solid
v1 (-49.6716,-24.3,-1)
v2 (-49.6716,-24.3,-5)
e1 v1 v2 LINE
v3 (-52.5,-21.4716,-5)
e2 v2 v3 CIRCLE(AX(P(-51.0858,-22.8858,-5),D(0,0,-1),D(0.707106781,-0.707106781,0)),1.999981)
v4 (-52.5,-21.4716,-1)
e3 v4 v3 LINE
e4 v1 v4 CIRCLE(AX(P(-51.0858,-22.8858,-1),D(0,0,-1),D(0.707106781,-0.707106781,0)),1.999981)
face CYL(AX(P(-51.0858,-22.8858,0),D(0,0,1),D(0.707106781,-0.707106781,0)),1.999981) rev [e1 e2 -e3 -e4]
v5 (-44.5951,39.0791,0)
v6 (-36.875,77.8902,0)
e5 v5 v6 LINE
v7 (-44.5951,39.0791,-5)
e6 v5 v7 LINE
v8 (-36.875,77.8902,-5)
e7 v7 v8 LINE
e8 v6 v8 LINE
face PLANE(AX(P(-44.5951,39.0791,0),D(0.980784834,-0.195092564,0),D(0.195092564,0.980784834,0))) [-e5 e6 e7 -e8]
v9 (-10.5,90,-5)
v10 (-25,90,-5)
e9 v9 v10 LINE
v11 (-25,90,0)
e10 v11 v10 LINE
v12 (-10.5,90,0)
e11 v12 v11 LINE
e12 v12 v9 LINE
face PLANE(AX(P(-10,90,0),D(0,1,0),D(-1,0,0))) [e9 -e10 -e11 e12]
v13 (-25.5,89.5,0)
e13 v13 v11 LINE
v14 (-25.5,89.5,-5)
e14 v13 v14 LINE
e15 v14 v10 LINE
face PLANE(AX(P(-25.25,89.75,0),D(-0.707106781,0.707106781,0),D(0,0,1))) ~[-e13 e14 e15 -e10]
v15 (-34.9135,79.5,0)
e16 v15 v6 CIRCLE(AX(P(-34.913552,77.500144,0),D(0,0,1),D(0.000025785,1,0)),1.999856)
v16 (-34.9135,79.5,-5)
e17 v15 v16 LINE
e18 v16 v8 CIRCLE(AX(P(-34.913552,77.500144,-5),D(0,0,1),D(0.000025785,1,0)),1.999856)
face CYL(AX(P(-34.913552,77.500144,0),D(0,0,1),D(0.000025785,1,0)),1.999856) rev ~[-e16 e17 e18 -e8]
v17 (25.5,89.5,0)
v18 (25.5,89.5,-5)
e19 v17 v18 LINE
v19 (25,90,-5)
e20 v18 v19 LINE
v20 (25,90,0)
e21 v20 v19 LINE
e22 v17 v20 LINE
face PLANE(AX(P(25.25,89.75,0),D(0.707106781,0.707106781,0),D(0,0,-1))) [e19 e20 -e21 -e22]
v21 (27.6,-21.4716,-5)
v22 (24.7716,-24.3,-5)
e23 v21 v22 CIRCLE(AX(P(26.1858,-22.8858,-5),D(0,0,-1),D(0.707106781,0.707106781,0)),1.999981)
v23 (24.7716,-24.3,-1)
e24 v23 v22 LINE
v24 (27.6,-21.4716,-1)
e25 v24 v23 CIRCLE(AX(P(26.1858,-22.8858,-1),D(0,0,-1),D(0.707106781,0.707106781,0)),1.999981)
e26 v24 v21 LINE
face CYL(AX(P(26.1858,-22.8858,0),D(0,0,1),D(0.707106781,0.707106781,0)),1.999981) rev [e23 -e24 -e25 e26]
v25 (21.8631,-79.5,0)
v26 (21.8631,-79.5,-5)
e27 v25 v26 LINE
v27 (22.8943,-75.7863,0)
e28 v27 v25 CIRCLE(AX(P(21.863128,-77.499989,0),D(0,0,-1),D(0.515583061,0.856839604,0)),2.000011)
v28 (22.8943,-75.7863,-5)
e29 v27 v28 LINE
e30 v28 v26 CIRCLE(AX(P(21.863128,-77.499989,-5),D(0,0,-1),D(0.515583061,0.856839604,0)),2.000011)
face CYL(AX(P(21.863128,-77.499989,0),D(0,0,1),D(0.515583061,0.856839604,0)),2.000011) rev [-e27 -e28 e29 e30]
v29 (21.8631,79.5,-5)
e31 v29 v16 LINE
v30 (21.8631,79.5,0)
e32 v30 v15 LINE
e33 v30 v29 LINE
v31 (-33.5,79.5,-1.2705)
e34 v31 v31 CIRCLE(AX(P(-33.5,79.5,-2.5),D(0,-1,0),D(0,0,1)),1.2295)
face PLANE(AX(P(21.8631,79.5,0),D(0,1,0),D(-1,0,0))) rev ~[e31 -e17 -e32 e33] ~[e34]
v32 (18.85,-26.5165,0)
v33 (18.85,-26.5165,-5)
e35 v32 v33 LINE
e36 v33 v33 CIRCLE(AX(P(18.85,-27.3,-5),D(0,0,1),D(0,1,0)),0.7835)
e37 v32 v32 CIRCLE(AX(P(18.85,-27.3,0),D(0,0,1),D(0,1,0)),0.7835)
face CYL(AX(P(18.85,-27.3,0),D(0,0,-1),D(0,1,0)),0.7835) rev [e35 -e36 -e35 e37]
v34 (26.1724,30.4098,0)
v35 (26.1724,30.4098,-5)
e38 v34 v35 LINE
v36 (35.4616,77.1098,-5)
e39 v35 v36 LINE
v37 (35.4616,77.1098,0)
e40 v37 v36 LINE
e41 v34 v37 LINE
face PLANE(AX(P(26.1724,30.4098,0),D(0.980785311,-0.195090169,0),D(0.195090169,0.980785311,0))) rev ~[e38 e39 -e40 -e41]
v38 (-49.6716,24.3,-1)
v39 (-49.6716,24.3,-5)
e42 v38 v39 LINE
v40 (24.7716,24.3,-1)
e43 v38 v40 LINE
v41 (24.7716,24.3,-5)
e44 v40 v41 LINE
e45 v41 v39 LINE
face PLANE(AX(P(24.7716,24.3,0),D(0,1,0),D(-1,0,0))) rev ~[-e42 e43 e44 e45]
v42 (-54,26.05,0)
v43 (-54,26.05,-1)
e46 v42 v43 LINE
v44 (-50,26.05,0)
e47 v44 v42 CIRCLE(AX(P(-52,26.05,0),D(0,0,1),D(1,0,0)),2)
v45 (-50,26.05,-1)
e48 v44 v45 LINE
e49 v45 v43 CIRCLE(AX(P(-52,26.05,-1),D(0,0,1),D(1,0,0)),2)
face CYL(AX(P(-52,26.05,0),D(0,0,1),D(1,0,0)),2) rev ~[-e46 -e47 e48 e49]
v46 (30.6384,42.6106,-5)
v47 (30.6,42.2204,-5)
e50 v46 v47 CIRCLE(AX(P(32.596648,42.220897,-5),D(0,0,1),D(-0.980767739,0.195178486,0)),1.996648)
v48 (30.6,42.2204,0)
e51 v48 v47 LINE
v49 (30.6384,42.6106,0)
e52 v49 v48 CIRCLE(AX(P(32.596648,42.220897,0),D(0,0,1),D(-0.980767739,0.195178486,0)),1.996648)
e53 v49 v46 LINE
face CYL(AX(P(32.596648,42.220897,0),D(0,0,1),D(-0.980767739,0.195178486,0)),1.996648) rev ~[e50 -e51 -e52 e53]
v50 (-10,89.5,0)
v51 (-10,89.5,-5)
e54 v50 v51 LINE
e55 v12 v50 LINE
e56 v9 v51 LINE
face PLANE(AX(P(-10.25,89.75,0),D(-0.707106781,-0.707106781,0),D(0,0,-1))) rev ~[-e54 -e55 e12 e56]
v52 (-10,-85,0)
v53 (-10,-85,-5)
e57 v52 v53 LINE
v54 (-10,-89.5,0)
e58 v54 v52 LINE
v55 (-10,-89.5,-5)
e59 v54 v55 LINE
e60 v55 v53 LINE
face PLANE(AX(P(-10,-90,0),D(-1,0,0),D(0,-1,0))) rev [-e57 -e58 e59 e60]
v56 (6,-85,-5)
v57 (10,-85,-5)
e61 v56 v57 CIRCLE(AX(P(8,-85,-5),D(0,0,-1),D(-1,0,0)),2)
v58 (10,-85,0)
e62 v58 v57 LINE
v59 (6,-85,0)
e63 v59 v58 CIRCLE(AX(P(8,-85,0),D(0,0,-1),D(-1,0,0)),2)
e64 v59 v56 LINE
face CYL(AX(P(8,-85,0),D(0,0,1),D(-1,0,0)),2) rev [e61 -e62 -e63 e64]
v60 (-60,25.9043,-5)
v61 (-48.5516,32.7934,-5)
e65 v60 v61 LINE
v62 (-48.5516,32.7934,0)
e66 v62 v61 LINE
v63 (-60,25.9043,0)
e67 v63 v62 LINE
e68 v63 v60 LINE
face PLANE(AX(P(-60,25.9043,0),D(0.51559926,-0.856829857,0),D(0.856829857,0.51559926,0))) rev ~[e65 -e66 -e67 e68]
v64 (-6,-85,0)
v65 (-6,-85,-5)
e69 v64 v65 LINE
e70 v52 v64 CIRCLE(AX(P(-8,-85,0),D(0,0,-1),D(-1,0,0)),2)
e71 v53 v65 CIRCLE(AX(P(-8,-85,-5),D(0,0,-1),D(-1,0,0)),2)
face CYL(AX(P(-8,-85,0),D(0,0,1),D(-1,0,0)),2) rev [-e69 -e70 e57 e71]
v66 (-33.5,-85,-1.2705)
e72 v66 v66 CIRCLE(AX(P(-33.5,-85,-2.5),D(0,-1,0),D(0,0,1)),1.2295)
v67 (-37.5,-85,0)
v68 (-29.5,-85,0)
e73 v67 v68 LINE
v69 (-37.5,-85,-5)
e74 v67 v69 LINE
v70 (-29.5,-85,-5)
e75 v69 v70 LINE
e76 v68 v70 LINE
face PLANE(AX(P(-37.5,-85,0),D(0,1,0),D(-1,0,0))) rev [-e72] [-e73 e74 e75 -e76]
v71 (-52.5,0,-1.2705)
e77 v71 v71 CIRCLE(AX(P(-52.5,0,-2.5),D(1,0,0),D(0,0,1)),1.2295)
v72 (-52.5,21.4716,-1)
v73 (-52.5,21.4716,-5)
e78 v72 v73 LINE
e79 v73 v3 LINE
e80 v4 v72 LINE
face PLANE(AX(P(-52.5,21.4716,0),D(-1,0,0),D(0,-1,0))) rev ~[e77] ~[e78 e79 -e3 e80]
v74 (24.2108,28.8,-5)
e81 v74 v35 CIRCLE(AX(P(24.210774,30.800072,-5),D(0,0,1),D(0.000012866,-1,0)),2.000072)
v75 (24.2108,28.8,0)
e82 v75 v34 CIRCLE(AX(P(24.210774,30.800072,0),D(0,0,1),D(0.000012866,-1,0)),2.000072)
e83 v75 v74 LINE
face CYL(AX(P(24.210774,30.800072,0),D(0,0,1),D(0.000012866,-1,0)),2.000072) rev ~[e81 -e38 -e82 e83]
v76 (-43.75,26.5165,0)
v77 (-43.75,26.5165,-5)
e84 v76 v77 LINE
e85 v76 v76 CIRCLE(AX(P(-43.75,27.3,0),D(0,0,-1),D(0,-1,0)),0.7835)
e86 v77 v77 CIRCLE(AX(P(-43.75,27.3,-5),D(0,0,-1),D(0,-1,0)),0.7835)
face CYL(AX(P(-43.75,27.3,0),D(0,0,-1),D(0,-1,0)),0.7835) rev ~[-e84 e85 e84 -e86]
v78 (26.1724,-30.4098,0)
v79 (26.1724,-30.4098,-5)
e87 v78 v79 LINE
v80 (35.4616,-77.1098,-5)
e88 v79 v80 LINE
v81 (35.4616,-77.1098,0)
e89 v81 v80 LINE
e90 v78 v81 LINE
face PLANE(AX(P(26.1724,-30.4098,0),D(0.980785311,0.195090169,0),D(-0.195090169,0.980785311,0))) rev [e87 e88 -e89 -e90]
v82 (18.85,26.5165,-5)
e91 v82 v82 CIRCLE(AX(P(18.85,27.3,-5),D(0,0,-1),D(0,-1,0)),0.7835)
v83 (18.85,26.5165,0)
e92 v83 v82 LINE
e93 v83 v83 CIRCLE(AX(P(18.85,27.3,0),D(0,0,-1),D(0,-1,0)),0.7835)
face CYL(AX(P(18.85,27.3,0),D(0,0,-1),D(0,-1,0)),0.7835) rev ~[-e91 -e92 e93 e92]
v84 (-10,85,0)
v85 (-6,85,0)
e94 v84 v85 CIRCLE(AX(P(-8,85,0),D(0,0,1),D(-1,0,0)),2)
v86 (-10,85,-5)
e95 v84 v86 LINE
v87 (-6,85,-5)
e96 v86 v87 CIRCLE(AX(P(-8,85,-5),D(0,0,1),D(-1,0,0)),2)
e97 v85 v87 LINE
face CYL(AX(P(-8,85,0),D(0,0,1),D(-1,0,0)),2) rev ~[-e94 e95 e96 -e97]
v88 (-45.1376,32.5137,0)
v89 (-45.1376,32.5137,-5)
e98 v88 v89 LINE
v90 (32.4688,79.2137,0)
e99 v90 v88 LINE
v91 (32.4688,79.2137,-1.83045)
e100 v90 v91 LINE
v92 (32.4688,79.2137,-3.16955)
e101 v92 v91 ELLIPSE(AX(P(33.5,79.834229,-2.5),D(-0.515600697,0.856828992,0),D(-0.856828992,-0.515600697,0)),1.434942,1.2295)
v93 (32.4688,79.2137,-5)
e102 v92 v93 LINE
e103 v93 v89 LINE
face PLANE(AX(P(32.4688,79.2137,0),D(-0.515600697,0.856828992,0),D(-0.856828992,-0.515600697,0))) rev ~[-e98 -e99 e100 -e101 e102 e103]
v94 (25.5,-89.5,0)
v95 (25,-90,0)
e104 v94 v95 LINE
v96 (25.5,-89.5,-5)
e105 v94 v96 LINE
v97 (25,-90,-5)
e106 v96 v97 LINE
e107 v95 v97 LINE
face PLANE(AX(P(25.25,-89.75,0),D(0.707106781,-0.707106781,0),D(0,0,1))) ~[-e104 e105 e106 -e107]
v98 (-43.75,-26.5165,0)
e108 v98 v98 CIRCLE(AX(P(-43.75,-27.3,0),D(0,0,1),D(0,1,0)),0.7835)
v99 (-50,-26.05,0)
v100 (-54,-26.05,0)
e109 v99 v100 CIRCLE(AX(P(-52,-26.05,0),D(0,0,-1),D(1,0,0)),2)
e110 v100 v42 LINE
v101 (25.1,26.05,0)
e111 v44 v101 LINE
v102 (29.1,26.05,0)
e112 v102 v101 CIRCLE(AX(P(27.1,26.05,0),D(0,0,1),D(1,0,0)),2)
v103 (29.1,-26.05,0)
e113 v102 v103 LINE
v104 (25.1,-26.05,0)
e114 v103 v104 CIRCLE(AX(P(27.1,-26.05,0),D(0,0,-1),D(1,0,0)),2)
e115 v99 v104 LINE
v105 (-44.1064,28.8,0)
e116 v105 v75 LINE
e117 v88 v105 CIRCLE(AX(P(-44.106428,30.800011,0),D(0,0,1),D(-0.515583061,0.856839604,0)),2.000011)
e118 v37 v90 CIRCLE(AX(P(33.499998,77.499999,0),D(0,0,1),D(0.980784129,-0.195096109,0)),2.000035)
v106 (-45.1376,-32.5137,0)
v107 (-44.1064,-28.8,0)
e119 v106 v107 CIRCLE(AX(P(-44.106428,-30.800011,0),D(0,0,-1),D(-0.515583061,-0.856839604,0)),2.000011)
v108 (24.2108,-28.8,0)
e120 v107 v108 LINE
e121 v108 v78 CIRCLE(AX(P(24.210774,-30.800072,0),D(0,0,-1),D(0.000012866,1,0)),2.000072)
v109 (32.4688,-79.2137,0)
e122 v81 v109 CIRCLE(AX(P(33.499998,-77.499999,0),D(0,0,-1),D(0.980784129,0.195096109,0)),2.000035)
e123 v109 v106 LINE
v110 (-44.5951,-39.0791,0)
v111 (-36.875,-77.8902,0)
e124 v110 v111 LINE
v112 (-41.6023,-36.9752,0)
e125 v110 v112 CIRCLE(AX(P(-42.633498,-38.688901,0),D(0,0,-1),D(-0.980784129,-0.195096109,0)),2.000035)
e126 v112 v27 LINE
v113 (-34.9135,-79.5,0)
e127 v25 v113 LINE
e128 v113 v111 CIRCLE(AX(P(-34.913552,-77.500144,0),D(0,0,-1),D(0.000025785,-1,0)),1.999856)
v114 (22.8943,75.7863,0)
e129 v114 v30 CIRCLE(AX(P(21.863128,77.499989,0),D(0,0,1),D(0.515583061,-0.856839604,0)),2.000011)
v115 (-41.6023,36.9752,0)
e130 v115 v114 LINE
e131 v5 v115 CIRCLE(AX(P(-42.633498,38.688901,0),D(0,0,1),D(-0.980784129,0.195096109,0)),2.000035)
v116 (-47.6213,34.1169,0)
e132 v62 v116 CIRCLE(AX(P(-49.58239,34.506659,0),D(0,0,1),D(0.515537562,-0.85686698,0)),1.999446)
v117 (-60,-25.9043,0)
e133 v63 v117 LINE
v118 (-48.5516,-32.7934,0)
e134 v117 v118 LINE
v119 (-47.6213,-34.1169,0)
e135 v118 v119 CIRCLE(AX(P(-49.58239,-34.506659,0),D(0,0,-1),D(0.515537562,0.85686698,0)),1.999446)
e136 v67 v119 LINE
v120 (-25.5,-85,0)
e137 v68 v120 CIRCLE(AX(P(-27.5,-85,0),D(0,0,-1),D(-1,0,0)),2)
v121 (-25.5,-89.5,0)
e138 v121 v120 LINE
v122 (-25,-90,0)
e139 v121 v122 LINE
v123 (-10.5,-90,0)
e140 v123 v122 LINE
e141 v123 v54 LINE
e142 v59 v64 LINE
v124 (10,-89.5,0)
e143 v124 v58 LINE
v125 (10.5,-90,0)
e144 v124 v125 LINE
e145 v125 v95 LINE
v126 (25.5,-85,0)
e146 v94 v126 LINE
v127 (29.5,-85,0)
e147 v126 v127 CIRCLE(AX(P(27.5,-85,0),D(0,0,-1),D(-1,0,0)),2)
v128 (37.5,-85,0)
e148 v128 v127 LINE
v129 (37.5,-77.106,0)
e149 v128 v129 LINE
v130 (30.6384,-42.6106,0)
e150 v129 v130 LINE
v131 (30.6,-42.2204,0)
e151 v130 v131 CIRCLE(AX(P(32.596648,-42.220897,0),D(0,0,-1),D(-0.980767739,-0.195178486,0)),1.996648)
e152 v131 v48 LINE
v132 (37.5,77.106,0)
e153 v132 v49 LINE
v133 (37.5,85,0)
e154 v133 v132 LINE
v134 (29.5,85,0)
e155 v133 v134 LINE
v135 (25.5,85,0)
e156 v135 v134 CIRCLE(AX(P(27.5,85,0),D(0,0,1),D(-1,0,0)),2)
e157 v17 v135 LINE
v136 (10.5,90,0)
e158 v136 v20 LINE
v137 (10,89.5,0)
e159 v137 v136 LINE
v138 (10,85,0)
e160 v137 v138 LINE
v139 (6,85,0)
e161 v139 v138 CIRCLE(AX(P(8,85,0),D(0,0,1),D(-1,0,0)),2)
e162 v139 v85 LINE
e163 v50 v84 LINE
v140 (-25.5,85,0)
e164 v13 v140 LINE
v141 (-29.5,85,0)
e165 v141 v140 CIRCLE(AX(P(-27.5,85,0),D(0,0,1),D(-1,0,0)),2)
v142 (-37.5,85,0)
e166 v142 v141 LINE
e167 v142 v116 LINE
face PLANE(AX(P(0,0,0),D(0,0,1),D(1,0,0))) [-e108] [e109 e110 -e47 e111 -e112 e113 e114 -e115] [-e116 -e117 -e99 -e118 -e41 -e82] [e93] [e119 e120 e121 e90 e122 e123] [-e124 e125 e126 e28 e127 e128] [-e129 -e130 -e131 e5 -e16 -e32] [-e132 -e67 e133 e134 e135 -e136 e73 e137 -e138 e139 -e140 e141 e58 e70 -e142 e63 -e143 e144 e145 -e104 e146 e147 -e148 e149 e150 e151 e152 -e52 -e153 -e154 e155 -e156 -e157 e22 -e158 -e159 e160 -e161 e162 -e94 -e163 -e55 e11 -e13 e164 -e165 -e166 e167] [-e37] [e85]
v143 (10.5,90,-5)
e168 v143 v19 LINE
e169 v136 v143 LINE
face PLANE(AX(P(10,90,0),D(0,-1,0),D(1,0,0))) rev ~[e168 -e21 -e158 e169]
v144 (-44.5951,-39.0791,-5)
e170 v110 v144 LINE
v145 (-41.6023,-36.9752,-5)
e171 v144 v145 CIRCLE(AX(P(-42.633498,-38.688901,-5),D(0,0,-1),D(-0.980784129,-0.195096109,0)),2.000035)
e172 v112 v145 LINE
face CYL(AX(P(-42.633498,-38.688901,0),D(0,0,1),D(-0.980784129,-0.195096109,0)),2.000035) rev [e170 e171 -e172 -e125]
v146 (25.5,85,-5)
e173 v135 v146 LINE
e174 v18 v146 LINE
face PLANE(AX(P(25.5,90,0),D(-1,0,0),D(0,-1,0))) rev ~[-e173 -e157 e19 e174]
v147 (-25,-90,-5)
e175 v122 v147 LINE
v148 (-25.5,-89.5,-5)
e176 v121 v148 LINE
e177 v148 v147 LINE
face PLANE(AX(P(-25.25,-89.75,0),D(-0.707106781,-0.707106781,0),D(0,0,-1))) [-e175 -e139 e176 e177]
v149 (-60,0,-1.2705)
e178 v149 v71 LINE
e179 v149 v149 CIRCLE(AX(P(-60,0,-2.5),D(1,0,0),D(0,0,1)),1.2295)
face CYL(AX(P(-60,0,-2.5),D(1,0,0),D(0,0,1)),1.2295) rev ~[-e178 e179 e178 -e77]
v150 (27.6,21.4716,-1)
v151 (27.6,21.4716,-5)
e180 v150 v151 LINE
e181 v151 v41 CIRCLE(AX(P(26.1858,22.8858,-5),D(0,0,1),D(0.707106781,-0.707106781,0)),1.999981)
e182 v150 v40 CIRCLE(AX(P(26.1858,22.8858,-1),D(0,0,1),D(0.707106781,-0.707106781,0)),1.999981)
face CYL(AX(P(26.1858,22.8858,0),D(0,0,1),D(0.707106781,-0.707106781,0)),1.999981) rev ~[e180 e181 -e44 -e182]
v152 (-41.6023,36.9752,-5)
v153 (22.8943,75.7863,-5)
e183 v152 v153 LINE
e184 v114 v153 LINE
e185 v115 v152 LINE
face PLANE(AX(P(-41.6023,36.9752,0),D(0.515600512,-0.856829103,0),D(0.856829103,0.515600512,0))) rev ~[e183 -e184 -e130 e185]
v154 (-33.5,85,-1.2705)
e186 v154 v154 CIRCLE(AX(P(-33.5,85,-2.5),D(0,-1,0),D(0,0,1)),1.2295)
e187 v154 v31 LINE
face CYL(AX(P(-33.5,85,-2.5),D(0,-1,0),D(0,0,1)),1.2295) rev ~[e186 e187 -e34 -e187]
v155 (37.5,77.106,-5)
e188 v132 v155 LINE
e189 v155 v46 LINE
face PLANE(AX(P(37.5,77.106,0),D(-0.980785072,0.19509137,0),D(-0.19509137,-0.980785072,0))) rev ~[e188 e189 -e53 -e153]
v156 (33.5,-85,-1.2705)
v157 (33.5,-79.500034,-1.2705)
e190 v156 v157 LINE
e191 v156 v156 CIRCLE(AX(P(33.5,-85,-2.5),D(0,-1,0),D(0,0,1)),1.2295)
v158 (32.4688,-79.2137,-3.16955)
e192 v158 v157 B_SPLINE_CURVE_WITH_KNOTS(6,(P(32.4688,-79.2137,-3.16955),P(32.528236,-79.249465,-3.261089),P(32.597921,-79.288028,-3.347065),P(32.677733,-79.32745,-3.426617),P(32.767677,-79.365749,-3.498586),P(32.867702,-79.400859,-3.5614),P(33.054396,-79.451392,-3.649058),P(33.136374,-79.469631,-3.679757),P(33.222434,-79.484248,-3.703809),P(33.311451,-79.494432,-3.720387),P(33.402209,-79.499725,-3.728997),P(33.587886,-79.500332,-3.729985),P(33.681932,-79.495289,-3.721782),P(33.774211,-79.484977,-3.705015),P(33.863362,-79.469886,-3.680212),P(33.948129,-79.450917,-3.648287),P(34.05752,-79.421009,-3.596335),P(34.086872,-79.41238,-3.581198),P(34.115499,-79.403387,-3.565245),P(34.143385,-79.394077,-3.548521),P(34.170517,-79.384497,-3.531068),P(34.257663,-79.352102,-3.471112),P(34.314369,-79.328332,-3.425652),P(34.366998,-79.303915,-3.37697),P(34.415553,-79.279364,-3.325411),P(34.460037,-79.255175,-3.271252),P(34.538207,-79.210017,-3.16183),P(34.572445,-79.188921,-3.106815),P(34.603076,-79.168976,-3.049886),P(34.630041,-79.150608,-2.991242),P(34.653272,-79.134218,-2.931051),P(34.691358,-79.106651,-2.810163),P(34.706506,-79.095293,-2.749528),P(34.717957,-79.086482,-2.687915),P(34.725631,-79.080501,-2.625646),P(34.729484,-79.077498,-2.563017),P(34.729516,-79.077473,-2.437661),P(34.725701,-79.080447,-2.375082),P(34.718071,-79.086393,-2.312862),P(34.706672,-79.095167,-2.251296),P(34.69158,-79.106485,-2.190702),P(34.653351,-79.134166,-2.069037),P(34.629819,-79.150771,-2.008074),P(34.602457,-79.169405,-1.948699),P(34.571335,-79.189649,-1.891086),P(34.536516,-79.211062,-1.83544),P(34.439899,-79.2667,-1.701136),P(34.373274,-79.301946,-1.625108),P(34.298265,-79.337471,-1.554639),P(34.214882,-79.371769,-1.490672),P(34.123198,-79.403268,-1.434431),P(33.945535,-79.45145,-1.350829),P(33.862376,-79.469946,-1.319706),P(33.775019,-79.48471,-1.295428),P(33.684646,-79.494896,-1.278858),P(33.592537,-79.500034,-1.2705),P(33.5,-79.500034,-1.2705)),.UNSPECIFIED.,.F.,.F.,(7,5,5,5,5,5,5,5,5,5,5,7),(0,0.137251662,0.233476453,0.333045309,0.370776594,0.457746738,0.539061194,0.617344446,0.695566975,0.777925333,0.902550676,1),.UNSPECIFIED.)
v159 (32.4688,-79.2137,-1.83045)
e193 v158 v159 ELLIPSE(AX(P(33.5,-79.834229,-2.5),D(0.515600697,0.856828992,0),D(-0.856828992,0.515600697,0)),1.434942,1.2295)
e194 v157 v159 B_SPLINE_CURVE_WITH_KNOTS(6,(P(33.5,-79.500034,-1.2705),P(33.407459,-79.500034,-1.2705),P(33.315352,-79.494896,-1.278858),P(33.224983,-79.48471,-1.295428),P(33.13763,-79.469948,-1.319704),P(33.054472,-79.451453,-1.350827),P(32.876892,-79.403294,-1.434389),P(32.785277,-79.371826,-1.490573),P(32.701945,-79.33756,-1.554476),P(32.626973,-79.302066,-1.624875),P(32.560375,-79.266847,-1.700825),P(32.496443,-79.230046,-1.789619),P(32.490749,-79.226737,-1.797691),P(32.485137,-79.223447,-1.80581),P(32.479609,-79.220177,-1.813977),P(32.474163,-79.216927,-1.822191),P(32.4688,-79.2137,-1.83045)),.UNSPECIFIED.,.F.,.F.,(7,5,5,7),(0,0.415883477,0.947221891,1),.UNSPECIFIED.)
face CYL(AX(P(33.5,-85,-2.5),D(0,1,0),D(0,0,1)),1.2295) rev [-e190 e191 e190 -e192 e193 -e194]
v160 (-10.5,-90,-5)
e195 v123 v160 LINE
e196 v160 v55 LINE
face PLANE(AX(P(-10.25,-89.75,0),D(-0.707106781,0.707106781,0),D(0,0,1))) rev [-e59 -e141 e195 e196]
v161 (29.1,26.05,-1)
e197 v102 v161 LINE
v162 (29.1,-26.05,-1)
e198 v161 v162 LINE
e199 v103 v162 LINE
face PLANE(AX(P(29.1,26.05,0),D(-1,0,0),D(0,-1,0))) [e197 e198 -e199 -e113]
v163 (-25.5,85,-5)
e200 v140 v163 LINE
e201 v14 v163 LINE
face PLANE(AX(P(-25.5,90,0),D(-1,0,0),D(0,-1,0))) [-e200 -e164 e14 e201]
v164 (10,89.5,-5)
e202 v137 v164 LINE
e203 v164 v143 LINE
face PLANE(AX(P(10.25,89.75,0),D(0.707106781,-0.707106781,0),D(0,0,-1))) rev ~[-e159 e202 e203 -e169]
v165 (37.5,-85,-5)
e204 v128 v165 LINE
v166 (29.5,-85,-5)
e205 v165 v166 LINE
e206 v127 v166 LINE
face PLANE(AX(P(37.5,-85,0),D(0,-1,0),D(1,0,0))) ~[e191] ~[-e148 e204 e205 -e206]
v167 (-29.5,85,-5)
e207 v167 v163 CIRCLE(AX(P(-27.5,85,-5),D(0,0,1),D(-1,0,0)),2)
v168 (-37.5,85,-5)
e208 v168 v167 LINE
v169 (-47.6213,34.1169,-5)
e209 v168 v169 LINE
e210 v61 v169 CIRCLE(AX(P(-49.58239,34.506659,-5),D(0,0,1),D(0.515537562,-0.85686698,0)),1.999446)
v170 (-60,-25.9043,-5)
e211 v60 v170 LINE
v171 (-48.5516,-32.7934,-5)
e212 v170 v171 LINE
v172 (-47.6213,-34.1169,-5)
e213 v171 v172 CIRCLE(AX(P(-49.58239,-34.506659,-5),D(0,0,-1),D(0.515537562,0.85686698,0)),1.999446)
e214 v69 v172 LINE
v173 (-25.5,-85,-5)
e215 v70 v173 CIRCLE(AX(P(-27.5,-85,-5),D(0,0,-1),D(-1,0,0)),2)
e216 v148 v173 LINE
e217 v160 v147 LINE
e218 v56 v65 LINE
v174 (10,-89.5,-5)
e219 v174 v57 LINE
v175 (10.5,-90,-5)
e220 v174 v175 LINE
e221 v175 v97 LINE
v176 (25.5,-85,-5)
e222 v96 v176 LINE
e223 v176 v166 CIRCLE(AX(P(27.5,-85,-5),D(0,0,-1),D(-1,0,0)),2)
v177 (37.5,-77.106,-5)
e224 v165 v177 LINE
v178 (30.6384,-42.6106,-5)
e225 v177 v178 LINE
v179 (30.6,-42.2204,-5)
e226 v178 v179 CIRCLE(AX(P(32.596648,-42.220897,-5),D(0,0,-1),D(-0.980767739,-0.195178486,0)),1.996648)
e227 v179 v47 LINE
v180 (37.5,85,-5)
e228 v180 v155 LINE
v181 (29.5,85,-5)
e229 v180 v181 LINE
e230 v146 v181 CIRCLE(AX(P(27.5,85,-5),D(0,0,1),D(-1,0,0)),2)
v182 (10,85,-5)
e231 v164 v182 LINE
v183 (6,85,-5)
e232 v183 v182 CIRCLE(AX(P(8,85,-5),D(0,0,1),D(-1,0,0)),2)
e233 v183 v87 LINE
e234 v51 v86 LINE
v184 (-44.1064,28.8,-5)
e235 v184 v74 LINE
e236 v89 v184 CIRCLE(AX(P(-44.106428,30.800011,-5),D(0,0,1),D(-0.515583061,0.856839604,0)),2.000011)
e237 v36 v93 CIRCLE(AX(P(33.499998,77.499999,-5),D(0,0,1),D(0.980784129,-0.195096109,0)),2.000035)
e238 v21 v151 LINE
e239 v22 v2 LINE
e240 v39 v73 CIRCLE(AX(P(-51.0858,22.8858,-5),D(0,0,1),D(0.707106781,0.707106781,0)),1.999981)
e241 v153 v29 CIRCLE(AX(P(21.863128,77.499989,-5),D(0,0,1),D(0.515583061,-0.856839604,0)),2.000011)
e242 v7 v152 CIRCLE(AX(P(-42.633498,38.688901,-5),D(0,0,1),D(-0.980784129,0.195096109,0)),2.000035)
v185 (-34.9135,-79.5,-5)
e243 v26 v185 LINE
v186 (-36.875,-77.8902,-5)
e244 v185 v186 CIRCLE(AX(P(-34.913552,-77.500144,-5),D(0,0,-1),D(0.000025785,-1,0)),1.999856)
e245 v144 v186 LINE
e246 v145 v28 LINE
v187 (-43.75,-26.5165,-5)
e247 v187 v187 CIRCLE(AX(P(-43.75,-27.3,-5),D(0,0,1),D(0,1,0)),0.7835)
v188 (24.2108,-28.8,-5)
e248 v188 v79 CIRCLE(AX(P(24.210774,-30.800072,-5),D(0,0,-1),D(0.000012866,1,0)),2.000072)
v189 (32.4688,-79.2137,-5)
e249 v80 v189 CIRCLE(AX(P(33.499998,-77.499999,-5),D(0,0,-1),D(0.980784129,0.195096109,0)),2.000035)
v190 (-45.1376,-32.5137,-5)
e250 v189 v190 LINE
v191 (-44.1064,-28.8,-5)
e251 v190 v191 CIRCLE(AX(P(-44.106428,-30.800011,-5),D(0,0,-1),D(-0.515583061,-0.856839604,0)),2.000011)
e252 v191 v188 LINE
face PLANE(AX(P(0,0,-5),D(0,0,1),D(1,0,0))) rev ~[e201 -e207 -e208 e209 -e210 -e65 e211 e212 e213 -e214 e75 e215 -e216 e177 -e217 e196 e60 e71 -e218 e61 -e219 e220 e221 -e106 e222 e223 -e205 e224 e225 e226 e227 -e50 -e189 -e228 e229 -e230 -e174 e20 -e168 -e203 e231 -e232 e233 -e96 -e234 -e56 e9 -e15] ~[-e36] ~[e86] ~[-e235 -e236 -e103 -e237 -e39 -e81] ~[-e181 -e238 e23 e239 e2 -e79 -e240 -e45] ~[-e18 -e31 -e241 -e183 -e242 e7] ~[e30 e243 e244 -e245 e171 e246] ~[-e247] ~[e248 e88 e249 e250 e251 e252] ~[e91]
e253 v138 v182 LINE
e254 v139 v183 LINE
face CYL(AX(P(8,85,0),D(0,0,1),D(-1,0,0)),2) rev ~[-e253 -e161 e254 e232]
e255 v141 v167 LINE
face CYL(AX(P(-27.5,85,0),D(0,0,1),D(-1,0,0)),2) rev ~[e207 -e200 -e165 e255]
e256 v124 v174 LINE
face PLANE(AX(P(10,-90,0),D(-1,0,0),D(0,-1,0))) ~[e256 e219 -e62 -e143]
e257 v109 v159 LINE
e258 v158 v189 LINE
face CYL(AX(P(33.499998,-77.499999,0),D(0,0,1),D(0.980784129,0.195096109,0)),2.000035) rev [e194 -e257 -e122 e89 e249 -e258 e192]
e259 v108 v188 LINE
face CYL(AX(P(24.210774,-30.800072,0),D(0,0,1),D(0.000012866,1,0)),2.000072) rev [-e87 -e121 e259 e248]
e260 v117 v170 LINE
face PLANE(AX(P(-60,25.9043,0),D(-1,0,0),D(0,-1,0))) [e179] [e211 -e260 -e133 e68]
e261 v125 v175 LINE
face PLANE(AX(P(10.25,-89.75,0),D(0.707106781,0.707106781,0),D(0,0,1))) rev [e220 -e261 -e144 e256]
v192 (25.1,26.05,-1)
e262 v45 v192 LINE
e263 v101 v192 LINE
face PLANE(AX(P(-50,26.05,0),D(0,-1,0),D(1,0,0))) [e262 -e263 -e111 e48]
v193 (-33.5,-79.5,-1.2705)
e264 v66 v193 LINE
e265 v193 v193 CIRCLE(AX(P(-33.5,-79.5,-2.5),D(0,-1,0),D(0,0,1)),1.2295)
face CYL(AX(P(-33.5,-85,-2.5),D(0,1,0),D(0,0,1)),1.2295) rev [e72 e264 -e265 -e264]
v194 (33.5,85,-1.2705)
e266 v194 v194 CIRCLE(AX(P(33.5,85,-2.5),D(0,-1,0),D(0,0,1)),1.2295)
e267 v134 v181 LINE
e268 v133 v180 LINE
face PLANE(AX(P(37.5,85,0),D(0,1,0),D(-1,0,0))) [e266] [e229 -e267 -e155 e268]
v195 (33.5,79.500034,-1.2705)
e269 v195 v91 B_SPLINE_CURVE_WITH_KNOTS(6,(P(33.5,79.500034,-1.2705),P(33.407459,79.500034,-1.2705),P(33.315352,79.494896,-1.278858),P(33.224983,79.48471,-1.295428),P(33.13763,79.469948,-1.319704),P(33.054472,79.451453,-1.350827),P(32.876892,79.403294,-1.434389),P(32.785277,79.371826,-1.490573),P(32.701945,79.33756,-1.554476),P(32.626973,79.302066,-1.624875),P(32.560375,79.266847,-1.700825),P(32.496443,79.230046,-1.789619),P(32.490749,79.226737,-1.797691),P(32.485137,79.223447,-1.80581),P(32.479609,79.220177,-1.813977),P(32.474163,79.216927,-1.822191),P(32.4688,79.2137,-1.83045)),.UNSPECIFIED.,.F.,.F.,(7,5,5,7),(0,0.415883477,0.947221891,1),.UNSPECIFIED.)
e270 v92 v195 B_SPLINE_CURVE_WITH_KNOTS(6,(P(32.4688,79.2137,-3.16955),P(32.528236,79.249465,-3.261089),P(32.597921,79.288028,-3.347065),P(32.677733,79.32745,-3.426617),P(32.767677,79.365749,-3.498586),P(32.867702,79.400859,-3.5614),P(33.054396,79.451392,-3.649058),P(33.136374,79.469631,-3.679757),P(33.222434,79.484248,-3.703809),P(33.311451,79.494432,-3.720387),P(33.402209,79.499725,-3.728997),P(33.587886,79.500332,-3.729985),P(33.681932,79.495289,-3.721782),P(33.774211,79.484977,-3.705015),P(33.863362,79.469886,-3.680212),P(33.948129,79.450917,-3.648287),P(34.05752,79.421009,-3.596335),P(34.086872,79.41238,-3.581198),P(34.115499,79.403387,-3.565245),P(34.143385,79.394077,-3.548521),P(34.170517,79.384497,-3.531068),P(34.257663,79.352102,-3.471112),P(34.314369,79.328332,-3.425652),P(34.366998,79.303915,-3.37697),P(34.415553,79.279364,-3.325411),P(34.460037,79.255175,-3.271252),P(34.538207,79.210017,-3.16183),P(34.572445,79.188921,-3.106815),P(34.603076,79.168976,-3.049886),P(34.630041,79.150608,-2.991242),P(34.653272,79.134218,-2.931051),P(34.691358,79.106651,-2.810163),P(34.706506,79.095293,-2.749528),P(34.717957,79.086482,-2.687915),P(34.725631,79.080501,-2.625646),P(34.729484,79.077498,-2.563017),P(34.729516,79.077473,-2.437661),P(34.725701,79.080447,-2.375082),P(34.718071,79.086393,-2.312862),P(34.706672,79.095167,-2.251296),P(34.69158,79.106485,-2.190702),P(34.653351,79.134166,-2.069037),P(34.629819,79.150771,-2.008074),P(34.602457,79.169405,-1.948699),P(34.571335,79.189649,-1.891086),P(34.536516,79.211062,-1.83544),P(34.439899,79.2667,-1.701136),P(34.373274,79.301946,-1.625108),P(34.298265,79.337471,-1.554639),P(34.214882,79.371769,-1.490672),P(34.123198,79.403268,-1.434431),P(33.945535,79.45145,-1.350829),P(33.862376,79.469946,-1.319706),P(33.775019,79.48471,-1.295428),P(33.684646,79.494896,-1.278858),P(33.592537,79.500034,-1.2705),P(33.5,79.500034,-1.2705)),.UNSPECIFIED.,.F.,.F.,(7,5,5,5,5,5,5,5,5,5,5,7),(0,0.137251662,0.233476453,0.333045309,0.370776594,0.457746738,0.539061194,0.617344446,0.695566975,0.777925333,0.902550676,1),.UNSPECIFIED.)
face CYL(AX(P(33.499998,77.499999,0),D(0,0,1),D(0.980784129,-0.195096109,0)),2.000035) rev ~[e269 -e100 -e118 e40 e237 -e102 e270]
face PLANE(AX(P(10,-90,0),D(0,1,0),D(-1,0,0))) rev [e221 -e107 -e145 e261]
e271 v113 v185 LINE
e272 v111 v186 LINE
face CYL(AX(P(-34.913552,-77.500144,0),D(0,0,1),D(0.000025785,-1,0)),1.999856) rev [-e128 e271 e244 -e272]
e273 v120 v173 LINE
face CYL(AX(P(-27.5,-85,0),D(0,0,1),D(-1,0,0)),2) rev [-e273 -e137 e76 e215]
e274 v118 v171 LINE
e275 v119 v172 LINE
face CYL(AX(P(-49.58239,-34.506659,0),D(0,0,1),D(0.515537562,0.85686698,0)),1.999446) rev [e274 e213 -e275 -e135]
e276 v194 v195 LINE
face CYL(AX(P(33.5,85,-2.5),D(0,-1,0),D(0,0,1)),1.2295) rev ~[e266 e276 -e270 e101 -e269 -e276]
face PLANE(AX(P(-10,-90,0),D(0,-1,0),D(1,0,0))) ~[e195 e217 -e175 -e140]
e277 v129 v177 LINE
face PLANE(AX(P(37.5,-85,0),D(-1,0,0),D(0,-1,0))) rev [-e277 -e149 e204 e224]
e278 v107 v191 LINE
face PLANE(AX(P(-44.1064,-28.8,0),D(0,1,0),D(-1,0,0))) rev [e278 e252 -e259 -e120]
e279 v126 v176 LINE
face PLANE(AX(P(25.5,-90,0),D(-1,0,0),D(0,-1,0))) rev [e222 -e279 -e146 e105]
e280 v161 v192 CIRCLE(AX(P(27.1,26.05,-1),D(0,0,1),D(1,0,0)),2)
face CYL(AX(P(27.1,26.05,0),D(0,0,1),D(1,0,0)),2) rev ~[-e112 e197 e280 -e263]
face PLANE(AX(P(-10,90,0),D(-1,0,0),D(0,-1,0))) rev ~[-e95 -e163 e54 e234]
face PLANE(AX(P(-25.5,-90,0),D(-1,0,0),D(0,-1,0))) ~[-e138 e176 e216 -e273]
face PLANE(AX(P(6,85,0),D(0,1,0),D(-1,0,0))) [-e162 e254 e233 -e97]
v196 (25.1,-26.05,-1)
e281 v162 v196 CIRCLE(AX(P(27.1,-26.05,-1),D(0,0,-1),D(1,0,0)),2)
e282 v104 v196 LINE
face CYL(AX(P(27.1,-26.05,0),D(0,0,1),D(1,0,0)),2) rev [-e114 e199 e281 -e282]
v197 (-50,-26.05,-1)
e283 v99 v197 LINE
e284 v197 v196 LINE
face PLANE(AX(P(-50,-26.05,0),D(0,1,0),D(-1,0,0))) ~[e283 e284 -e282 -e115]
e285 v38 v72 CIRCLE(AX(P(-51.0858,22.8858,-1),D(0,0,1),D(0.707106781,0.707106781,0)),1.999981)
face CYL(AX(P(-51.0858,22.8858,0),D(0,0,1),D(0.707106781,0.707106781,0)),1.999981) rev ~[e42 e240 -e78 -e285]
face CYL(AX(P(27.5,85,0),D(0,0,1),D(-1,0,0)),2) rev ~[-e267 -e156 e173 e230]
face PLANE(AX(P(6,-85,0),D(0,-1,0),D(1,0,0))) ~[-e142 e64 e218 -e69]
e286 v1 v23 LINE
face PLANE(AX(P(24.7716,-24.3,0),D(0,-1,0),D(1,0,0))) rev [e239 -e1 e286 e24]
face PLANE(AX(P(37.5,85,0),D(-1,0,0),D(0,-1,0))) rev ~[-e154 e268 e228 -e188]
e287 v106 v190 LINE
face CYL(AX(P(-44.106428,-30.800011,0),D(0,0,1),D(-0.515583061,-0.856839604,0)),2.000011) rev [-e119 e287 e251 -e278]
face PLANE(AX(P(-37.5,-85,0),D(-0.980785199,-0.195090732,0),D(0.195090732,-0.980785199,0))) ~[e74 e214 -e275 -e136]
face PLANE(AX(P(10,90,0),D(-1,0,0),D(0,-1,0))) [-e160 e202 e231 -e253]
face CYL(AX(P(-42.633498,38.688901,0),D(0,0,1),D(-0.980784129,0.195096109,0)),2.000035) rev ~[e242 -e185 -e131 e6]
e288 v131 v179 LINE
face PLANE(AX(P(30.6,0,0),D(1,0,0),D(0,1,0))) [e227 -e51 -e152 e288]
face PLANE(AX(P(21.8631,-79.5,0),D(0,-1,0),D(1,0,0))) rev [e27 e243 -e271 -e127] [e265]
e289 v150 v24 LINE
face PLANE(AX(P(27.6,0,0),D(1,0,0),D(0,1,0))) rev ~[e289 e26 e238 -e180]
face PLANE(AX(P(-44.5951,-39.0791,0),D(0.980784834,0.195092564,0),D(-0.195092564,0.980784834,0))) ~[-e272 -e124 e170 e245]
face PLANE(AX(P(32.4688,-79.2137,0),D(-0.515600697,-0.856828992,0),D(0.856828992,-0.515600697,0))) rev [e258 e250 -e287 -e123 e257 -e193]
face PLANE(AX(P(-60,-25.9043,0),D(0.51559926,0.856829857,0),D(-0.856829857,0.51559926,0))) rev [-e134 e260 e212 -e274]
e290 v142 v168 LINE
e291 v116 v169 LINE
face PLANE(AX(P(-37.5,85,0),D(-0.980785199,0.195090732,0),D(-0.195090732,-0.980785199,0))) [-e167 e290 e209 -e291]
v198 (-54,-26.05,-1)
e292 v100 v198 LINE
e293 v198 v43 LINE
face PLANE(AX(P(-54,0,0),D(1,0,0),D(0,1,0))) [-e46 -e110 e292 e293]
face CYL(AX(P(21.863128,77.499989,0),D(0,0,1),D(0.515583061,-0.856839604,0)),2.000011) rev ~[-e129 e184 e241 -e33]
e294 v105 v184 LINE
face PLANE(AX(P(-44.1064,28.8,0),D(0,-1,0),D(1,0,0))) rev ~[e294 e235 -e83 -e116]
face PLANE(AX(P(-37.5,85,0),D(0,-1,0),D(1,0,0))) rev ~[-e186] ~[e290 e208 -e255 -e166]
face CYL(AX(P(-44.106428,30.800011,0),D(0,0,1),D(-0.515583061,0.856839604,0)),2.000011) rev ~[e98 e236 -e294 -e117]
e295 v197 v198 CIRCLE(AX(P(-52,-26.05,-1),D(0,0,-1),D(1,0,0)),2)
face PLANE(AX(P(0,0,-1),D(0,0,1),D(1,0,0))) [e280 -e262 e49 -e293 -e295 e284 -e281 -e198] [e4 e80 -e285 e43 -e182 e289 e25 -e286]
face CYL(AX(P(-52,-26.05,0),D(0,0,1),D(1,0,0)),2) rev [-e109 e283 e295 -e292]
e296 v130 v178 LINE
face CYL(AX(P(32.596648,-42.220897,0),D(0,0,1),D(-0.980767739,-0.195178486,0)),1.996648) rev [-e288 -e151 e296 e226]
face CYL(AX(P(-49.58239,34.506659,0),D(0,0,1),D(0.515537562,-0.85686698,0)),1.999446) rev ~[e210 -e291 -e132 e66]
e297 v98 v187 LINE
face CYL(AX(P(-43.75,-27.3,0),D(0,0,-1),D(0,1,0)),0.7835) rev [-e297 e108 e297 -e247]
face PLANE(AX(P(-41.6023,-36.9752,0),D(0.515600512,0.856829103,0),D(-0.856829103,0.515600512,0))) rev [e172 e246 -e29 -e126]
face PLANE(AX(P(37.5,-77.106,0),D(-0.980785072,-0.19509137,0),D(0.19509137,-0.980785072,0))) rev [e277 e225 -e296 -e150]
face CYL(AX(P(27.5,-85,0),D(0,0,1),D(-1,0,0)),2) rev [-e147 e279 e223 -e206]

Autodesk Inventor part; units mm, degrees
ref_plane "YZ Plane" through (0, 0, 0) normal (1, 0, 0) x (0, 1, 0)
ref_plane "XZ Plane" through (0, 0, 0) normal (0, 1, 0) x (-1, 0, 0)
sketch "Sketch1" plane through (0, 0, 0) normal (0, 0, 1) x (1, 0, 0)
  line L0 (-53, -85) -> (37.5, -85) construction
  line L1 (37.5, 85) -> (-53, 85) construction
  line L2 (0, -85) -> (0, 85) construction
  line L3 (-53, 0) -> (37.5, 0)
  line L4 (10, 90) -> (25.5, 90)
  line L5 (10, 90) -> (10, 85)
  arc A0 (6, 85) -> (10, 85) centre (8, 85) ccw
  line L6 (37.5, 85) -> (37.5, -85) construction
  line L7 (-53, -85) -> (-53, 85) construction
  line L8 (28.85, -25.8) -> (-53.75, -25.8) construction
  line L9 (-53.75, -25.8) -> (-53.75, 25.8) construction
  line L10 (-53.75, 25.8) -> (28.85, 25.8) construction
  line L11 (28.85, 25.8) -> (28.85, -25.8) construction
  line L12 (28.85, -25.8) -> (-53.75, 25.8) construction
  line L13 (-53.75, -25.8) -> (28.85, 25.8) construction
  line L14 (29.1, -26.05) -> (-54, -26.05)
  line L15 (-54, -26.05) -> (-54, 26.05)
  line L16 (-54, 26.05) -> (29.1, 26.05)
  line L17 (29.1, 26.05) -> (29.1, -26.05)
  line L18 (29.1, -26.05) -> (-54, 26.05) construction
  line L19 (-54, -26.05) -> (29.1, 26.05) construction
  line L20 (-52.5, 24.3) -> (27.6, 24.3) construction
  line L21 (27.6, 24.3) -> (27.6, -24.3) construction
  line L22 (27.6, -24.3) -> (-52.5, -24.3)
  line L23 (-52.5, -24.3) -> (-52.5, 24.3) construction
  line L24 (-52.5, 24.3) -> (27.6, -24.3) construction
  line L25 (27.6, 24.3) -> (-52.5, -24.3) construction
  line L26 (26.1724, 30.4098) -> (35.4616, 77.1098)
  line L27 (32.4688, 79.2137) -> (-45.1376, 32.5137)
  line L28 (-44.1064, 28.8) -> (24.2108, 28.8)
  line L29 (21.8631, 79.5) -> (-34.9135, 79.5)
  line L30 (37.5, 27.3) -> (-50.7865, 27.3) construction
  arc A1 (24.2108, 28.8) -> (26.1724, 30.4098) centre (24.2108, 30.8) ccw
  arc A2 (-45.1376, 32.5137) -> (-44.1064, 28.8) centre (-44.1064, 30.8) ccw
  arc A3 (22.8943, 75.7863) -> (21.8631, 79.5) centre (21.8631, 77.5) ccw
  arc A4 (29.1, 26.05) -> (25.1, 26.05) centre (27.1, 26.05) ccw
  arc A5 (27.6, 21.4716) -> (24.7716, 24.3) centre (26.1858, 22.8858) ccw
  arc A6 (-49.6716, 24.3) -> (-52.5, 21.4716) centre (-51.0858, 22.8858) ccw
  arc A7 (-50, 26.05) -> (-54, 26.05) centre (-52, 26.05) ccw
  circle A8 centre (18.85, 27.3) radius 1.5 construction
  circle A9 centre (18.85, 27.3) radius 1 construction
  line L31 (-12.45, -25.8) -> (-12.45, 25.7819) construction
  circle A10 centre (-43.75, 27.3) radius 1.5 construction
  circle A11 centre (-43.75, 27.3) radius 1 construction
  circle A12 centre (18.85, 27.3) radius 2.5 construction
  circle A13 centre (-43.75, 27.3) radius 2.5 construction
  line L32 (17.75, 90) -> (17.75, 85) construction
  line L33 (25.5, 90) -> (25.5, 85)
  arc A14 (25.5, 85) -> (29.5, 85) centre (27.5, 85) ccw
  line L34 (37.5, 85) -> (29.5, 85)
  line L35 (-10, 90) -> (-25.5, 90)
  line L36 (-10, 90) -> (-10, 85)
  arc A15 (-10, 85) -> (-6, 85) centre (-8, 85) ccw
  line L37 (-17.75, 90) -> (-17.75, 85) construction
  line L38 (-25.5, 90) -> (-25.5, 85)
  arc A16 (-29.5, 85) -> (-25.5, 85) centre (-27.5, 85) ccw
  line L39 (6, 85) -> (-6, 85)
  line L40 (33.5, 85) -> (33.5, 79) construction
  line L41 (-33.5, 85) -> (-33.5, 79) construction
  line L42 (-44.5951, 39.0791) -> (-36.875, 77.8902)
  line L43 (-41.6023, 36.9752) -> (22.8943, 75.7863)
  line L44 (-37.5, 85) -> (-29.5, 85)
  arc A17 (-44.5951, 39.0791) -> (-41.6023, 36.9752) centre (-42.6335, 38.6889) ccw
  arc A18 (-34.9135, 79.5) -> (-36.875, 77.8902) centre (-34.9135, 77.5) ccw
  line L45 (27.6, 0) -> (27.6, 21.4716)
  line L46 (24.7716, 24.3) -> (-49.6716, 24.3)
  line L47 (-52.5, 21.4716) -> (-52.5, 0)
  line L48 (-37.5, 85) -> (-47.6213, 34.1169)
  arc A19 (35.4616, 77.1098) -> (32.4688, 79.2137) centre (33.5, 77.5) ccw
  line L49 (-60, 25.9043) -> (-60, 0)
  line L50 (-60, 0) -> (-53, 0)
  line L51 (-60, 39.2) -> (-48.5, 39.2) construction
  line L52 (-48.5, 39.2) -> (-48.5, 44.2) construction
  line L53 (-48.5, 44.2) -> (-60, 44.2) construction
  line L54 (29.1, 26.05) -> (29.1, 20.1473)
  line L55 (-60, 25.9043) -> (-48.5516, 32.7934)
  line L56 (30.6, 0) -> (30.6, 42.2204)
  arc A20 (30.6384, 42.6106) -> (30.6, 42.2204) centre (32.6, 42.2204) ccw
  line L57 (37.5, 85) -> (37.5, 77.106)
  line L58 (37.5, 77.106) -> (30.6384, 42.6106)
  arc A21 (-48.5516, 32.7934) -> (-47.6213, 34.1169) centre (-49.5828, 34.5071) ccw
  point P0 (0, 0)
  point P1 (50, -85)
  point P2 (-47, 0)
  point P3 (-12.45, 0)
  point P4 (-49.0507, 0)
  point P5 (29.1, 0)
  point P6 (-20.5577, 28.8)
  point P7 (-52.5, 0)
  point P8 (27.6, 0)
  point P9 (24.6, 26.05)
  point P10 (-45.4774, 34.6434)
  point P11 (-36.5548, 79.5)
  point P12 (-52.5, 0)
  point P13 (27.6, 0)
  point P14 (0, 85)
  point P15 (-48.8888, 27.7448)
  point P16 (-60, 26.05)
  point P17 (-60, 24.5149)
  point P18 (-47.7938, 33.2495)
  point P19 (-54, 0)
  point P20 (-57, 0)
  dimension "d1" = 170
  dimension "d2" = 2
  dimension "d3" = 5
  dimension "d55" = 82.6
  dimension "d56" = 51.6
  dimension "d57" = 0.25
  dimension "d58" = 0.25
  dimension "d62" = 2
  dimension "d81" = 3
  dimension "d82" = 2
  dimension "d85" = 1.5
  dimension "d86" = 1.5
  dimension "d94" = 10
  dimension "d95" = 5
  dimension "d99" = 6
  dimension "d100" = 8
  dimension "d102" = 15.5
  dimension "d103" = 20
  dimension "d104" = 37.5
  dimension "d118" = 5.5
  dimension "d121" = 2
  dimension "d122" = 53
  dimension "d123" = 2
  dimension "d127" = 8.65
  dimension "d128" = 60
  dimension "d129" = 6
  dimension "d130" = 11.5
  dimension "d131" = 5
  dimension "d132" = 40.8
  dimension "d134" = 101.25
  dimension "d139" = 1.5
  dimension "d141" = 2
  dimension "d143" = 2
extrude "Extrusion1" add sketch "Sketch1" against normal blind 5 contours L50 L15 L16 L17 L3 L45 A5 L46 A6 L47 | L50 L49 L55 A21 L48 L44 A16 L38 L35 L36 A15 L39 A0 L5 L4 L33 A14 L34 L57 L58 A20 L56 L3 L17 A4 L16 A7 L15 | A7 L16 | A4 L16
extrude "Extrusion2" cut sketch "Sketch1" against normal blind 1 contours L50 L15 L16 L17 L3 L45 A5 L46 A6 L47 | L3 L17 L14 L15 L50 | L47 A6 L46 A5 L45 L3 | A7 L16 | A4 L16
hole "M2" at (18.85, 27.3, 0) at (-43.75, 27.3, 0) direction (0, 0, -1) diameter 1.567 end through all thread size "M2x0.4" class "6H" standard "ANSI Metric M Profile"
sketch "Sketch6" plane through (29.5, 85, 0) normal (0, 1, 0) x (1, 0, 0)
  line L0 (0, 5) -> (8, 5) projected
  line L1 (4, 5) -> (4, 0)
  line L2 (8, 0) -> (0, 0) projected
  line L3 (-63, 5) -> (-63, 0)
  line L4 (-67, 5) -> (-59, 5) projected
  point P0 (-29.5, 0)
  point P1 (-86, 5)
  point P2 (-86, 0)
  point P3 (4, 0)
  point P4 (-63, 0)
  point P5 (4, 2.5)
  point P6 (-63, 2.5)
hole "SideーM3" at (33.5, 85, -2.5) at (-33.5, 85, -2.5) direction (0, -1, 0) diameter 2.459 depth 10 thread size "M3x0.5" class "6H" standard "ANSI Metric M Profile"
chamfer "C0.5" distance 0.5 angle 45 4 edges at (25.5, 90, -2.5) (10, 90, -2.5) (-10, 90, -2.5) (-25.5, 90, -2.5)
mirror "Mirror5" about plane through (0, 0, 0) normal (0, 1, 0)
ref_plane "Work Plane1" through (-12.45, 21.4716, -1) normal (1, 0, 0) x (0, 0, -1)
sketch "Sketch7" plane through (-60, 25.9043, -5) normal (-1, 0, 0) x (0, 0, 1)
  line L0 (5, -25.9043) -> (0, -25.9043)
  line L1 (0, 0) -> (0, -51.8087) projected
  point P0 (2.5, -25.9043)
  point P1 (2.5, -25.9043)
hole "Back-M3" at (-60, 0, -2.5) direction (1, 0, 0) diameter 2.459 depth 7.5 thread size "M3x0.5" class "6H" standard "ANSI Metric M Profile"
properties part number "TorsoLowerFrame" material "Aluminum 2014-T4"
